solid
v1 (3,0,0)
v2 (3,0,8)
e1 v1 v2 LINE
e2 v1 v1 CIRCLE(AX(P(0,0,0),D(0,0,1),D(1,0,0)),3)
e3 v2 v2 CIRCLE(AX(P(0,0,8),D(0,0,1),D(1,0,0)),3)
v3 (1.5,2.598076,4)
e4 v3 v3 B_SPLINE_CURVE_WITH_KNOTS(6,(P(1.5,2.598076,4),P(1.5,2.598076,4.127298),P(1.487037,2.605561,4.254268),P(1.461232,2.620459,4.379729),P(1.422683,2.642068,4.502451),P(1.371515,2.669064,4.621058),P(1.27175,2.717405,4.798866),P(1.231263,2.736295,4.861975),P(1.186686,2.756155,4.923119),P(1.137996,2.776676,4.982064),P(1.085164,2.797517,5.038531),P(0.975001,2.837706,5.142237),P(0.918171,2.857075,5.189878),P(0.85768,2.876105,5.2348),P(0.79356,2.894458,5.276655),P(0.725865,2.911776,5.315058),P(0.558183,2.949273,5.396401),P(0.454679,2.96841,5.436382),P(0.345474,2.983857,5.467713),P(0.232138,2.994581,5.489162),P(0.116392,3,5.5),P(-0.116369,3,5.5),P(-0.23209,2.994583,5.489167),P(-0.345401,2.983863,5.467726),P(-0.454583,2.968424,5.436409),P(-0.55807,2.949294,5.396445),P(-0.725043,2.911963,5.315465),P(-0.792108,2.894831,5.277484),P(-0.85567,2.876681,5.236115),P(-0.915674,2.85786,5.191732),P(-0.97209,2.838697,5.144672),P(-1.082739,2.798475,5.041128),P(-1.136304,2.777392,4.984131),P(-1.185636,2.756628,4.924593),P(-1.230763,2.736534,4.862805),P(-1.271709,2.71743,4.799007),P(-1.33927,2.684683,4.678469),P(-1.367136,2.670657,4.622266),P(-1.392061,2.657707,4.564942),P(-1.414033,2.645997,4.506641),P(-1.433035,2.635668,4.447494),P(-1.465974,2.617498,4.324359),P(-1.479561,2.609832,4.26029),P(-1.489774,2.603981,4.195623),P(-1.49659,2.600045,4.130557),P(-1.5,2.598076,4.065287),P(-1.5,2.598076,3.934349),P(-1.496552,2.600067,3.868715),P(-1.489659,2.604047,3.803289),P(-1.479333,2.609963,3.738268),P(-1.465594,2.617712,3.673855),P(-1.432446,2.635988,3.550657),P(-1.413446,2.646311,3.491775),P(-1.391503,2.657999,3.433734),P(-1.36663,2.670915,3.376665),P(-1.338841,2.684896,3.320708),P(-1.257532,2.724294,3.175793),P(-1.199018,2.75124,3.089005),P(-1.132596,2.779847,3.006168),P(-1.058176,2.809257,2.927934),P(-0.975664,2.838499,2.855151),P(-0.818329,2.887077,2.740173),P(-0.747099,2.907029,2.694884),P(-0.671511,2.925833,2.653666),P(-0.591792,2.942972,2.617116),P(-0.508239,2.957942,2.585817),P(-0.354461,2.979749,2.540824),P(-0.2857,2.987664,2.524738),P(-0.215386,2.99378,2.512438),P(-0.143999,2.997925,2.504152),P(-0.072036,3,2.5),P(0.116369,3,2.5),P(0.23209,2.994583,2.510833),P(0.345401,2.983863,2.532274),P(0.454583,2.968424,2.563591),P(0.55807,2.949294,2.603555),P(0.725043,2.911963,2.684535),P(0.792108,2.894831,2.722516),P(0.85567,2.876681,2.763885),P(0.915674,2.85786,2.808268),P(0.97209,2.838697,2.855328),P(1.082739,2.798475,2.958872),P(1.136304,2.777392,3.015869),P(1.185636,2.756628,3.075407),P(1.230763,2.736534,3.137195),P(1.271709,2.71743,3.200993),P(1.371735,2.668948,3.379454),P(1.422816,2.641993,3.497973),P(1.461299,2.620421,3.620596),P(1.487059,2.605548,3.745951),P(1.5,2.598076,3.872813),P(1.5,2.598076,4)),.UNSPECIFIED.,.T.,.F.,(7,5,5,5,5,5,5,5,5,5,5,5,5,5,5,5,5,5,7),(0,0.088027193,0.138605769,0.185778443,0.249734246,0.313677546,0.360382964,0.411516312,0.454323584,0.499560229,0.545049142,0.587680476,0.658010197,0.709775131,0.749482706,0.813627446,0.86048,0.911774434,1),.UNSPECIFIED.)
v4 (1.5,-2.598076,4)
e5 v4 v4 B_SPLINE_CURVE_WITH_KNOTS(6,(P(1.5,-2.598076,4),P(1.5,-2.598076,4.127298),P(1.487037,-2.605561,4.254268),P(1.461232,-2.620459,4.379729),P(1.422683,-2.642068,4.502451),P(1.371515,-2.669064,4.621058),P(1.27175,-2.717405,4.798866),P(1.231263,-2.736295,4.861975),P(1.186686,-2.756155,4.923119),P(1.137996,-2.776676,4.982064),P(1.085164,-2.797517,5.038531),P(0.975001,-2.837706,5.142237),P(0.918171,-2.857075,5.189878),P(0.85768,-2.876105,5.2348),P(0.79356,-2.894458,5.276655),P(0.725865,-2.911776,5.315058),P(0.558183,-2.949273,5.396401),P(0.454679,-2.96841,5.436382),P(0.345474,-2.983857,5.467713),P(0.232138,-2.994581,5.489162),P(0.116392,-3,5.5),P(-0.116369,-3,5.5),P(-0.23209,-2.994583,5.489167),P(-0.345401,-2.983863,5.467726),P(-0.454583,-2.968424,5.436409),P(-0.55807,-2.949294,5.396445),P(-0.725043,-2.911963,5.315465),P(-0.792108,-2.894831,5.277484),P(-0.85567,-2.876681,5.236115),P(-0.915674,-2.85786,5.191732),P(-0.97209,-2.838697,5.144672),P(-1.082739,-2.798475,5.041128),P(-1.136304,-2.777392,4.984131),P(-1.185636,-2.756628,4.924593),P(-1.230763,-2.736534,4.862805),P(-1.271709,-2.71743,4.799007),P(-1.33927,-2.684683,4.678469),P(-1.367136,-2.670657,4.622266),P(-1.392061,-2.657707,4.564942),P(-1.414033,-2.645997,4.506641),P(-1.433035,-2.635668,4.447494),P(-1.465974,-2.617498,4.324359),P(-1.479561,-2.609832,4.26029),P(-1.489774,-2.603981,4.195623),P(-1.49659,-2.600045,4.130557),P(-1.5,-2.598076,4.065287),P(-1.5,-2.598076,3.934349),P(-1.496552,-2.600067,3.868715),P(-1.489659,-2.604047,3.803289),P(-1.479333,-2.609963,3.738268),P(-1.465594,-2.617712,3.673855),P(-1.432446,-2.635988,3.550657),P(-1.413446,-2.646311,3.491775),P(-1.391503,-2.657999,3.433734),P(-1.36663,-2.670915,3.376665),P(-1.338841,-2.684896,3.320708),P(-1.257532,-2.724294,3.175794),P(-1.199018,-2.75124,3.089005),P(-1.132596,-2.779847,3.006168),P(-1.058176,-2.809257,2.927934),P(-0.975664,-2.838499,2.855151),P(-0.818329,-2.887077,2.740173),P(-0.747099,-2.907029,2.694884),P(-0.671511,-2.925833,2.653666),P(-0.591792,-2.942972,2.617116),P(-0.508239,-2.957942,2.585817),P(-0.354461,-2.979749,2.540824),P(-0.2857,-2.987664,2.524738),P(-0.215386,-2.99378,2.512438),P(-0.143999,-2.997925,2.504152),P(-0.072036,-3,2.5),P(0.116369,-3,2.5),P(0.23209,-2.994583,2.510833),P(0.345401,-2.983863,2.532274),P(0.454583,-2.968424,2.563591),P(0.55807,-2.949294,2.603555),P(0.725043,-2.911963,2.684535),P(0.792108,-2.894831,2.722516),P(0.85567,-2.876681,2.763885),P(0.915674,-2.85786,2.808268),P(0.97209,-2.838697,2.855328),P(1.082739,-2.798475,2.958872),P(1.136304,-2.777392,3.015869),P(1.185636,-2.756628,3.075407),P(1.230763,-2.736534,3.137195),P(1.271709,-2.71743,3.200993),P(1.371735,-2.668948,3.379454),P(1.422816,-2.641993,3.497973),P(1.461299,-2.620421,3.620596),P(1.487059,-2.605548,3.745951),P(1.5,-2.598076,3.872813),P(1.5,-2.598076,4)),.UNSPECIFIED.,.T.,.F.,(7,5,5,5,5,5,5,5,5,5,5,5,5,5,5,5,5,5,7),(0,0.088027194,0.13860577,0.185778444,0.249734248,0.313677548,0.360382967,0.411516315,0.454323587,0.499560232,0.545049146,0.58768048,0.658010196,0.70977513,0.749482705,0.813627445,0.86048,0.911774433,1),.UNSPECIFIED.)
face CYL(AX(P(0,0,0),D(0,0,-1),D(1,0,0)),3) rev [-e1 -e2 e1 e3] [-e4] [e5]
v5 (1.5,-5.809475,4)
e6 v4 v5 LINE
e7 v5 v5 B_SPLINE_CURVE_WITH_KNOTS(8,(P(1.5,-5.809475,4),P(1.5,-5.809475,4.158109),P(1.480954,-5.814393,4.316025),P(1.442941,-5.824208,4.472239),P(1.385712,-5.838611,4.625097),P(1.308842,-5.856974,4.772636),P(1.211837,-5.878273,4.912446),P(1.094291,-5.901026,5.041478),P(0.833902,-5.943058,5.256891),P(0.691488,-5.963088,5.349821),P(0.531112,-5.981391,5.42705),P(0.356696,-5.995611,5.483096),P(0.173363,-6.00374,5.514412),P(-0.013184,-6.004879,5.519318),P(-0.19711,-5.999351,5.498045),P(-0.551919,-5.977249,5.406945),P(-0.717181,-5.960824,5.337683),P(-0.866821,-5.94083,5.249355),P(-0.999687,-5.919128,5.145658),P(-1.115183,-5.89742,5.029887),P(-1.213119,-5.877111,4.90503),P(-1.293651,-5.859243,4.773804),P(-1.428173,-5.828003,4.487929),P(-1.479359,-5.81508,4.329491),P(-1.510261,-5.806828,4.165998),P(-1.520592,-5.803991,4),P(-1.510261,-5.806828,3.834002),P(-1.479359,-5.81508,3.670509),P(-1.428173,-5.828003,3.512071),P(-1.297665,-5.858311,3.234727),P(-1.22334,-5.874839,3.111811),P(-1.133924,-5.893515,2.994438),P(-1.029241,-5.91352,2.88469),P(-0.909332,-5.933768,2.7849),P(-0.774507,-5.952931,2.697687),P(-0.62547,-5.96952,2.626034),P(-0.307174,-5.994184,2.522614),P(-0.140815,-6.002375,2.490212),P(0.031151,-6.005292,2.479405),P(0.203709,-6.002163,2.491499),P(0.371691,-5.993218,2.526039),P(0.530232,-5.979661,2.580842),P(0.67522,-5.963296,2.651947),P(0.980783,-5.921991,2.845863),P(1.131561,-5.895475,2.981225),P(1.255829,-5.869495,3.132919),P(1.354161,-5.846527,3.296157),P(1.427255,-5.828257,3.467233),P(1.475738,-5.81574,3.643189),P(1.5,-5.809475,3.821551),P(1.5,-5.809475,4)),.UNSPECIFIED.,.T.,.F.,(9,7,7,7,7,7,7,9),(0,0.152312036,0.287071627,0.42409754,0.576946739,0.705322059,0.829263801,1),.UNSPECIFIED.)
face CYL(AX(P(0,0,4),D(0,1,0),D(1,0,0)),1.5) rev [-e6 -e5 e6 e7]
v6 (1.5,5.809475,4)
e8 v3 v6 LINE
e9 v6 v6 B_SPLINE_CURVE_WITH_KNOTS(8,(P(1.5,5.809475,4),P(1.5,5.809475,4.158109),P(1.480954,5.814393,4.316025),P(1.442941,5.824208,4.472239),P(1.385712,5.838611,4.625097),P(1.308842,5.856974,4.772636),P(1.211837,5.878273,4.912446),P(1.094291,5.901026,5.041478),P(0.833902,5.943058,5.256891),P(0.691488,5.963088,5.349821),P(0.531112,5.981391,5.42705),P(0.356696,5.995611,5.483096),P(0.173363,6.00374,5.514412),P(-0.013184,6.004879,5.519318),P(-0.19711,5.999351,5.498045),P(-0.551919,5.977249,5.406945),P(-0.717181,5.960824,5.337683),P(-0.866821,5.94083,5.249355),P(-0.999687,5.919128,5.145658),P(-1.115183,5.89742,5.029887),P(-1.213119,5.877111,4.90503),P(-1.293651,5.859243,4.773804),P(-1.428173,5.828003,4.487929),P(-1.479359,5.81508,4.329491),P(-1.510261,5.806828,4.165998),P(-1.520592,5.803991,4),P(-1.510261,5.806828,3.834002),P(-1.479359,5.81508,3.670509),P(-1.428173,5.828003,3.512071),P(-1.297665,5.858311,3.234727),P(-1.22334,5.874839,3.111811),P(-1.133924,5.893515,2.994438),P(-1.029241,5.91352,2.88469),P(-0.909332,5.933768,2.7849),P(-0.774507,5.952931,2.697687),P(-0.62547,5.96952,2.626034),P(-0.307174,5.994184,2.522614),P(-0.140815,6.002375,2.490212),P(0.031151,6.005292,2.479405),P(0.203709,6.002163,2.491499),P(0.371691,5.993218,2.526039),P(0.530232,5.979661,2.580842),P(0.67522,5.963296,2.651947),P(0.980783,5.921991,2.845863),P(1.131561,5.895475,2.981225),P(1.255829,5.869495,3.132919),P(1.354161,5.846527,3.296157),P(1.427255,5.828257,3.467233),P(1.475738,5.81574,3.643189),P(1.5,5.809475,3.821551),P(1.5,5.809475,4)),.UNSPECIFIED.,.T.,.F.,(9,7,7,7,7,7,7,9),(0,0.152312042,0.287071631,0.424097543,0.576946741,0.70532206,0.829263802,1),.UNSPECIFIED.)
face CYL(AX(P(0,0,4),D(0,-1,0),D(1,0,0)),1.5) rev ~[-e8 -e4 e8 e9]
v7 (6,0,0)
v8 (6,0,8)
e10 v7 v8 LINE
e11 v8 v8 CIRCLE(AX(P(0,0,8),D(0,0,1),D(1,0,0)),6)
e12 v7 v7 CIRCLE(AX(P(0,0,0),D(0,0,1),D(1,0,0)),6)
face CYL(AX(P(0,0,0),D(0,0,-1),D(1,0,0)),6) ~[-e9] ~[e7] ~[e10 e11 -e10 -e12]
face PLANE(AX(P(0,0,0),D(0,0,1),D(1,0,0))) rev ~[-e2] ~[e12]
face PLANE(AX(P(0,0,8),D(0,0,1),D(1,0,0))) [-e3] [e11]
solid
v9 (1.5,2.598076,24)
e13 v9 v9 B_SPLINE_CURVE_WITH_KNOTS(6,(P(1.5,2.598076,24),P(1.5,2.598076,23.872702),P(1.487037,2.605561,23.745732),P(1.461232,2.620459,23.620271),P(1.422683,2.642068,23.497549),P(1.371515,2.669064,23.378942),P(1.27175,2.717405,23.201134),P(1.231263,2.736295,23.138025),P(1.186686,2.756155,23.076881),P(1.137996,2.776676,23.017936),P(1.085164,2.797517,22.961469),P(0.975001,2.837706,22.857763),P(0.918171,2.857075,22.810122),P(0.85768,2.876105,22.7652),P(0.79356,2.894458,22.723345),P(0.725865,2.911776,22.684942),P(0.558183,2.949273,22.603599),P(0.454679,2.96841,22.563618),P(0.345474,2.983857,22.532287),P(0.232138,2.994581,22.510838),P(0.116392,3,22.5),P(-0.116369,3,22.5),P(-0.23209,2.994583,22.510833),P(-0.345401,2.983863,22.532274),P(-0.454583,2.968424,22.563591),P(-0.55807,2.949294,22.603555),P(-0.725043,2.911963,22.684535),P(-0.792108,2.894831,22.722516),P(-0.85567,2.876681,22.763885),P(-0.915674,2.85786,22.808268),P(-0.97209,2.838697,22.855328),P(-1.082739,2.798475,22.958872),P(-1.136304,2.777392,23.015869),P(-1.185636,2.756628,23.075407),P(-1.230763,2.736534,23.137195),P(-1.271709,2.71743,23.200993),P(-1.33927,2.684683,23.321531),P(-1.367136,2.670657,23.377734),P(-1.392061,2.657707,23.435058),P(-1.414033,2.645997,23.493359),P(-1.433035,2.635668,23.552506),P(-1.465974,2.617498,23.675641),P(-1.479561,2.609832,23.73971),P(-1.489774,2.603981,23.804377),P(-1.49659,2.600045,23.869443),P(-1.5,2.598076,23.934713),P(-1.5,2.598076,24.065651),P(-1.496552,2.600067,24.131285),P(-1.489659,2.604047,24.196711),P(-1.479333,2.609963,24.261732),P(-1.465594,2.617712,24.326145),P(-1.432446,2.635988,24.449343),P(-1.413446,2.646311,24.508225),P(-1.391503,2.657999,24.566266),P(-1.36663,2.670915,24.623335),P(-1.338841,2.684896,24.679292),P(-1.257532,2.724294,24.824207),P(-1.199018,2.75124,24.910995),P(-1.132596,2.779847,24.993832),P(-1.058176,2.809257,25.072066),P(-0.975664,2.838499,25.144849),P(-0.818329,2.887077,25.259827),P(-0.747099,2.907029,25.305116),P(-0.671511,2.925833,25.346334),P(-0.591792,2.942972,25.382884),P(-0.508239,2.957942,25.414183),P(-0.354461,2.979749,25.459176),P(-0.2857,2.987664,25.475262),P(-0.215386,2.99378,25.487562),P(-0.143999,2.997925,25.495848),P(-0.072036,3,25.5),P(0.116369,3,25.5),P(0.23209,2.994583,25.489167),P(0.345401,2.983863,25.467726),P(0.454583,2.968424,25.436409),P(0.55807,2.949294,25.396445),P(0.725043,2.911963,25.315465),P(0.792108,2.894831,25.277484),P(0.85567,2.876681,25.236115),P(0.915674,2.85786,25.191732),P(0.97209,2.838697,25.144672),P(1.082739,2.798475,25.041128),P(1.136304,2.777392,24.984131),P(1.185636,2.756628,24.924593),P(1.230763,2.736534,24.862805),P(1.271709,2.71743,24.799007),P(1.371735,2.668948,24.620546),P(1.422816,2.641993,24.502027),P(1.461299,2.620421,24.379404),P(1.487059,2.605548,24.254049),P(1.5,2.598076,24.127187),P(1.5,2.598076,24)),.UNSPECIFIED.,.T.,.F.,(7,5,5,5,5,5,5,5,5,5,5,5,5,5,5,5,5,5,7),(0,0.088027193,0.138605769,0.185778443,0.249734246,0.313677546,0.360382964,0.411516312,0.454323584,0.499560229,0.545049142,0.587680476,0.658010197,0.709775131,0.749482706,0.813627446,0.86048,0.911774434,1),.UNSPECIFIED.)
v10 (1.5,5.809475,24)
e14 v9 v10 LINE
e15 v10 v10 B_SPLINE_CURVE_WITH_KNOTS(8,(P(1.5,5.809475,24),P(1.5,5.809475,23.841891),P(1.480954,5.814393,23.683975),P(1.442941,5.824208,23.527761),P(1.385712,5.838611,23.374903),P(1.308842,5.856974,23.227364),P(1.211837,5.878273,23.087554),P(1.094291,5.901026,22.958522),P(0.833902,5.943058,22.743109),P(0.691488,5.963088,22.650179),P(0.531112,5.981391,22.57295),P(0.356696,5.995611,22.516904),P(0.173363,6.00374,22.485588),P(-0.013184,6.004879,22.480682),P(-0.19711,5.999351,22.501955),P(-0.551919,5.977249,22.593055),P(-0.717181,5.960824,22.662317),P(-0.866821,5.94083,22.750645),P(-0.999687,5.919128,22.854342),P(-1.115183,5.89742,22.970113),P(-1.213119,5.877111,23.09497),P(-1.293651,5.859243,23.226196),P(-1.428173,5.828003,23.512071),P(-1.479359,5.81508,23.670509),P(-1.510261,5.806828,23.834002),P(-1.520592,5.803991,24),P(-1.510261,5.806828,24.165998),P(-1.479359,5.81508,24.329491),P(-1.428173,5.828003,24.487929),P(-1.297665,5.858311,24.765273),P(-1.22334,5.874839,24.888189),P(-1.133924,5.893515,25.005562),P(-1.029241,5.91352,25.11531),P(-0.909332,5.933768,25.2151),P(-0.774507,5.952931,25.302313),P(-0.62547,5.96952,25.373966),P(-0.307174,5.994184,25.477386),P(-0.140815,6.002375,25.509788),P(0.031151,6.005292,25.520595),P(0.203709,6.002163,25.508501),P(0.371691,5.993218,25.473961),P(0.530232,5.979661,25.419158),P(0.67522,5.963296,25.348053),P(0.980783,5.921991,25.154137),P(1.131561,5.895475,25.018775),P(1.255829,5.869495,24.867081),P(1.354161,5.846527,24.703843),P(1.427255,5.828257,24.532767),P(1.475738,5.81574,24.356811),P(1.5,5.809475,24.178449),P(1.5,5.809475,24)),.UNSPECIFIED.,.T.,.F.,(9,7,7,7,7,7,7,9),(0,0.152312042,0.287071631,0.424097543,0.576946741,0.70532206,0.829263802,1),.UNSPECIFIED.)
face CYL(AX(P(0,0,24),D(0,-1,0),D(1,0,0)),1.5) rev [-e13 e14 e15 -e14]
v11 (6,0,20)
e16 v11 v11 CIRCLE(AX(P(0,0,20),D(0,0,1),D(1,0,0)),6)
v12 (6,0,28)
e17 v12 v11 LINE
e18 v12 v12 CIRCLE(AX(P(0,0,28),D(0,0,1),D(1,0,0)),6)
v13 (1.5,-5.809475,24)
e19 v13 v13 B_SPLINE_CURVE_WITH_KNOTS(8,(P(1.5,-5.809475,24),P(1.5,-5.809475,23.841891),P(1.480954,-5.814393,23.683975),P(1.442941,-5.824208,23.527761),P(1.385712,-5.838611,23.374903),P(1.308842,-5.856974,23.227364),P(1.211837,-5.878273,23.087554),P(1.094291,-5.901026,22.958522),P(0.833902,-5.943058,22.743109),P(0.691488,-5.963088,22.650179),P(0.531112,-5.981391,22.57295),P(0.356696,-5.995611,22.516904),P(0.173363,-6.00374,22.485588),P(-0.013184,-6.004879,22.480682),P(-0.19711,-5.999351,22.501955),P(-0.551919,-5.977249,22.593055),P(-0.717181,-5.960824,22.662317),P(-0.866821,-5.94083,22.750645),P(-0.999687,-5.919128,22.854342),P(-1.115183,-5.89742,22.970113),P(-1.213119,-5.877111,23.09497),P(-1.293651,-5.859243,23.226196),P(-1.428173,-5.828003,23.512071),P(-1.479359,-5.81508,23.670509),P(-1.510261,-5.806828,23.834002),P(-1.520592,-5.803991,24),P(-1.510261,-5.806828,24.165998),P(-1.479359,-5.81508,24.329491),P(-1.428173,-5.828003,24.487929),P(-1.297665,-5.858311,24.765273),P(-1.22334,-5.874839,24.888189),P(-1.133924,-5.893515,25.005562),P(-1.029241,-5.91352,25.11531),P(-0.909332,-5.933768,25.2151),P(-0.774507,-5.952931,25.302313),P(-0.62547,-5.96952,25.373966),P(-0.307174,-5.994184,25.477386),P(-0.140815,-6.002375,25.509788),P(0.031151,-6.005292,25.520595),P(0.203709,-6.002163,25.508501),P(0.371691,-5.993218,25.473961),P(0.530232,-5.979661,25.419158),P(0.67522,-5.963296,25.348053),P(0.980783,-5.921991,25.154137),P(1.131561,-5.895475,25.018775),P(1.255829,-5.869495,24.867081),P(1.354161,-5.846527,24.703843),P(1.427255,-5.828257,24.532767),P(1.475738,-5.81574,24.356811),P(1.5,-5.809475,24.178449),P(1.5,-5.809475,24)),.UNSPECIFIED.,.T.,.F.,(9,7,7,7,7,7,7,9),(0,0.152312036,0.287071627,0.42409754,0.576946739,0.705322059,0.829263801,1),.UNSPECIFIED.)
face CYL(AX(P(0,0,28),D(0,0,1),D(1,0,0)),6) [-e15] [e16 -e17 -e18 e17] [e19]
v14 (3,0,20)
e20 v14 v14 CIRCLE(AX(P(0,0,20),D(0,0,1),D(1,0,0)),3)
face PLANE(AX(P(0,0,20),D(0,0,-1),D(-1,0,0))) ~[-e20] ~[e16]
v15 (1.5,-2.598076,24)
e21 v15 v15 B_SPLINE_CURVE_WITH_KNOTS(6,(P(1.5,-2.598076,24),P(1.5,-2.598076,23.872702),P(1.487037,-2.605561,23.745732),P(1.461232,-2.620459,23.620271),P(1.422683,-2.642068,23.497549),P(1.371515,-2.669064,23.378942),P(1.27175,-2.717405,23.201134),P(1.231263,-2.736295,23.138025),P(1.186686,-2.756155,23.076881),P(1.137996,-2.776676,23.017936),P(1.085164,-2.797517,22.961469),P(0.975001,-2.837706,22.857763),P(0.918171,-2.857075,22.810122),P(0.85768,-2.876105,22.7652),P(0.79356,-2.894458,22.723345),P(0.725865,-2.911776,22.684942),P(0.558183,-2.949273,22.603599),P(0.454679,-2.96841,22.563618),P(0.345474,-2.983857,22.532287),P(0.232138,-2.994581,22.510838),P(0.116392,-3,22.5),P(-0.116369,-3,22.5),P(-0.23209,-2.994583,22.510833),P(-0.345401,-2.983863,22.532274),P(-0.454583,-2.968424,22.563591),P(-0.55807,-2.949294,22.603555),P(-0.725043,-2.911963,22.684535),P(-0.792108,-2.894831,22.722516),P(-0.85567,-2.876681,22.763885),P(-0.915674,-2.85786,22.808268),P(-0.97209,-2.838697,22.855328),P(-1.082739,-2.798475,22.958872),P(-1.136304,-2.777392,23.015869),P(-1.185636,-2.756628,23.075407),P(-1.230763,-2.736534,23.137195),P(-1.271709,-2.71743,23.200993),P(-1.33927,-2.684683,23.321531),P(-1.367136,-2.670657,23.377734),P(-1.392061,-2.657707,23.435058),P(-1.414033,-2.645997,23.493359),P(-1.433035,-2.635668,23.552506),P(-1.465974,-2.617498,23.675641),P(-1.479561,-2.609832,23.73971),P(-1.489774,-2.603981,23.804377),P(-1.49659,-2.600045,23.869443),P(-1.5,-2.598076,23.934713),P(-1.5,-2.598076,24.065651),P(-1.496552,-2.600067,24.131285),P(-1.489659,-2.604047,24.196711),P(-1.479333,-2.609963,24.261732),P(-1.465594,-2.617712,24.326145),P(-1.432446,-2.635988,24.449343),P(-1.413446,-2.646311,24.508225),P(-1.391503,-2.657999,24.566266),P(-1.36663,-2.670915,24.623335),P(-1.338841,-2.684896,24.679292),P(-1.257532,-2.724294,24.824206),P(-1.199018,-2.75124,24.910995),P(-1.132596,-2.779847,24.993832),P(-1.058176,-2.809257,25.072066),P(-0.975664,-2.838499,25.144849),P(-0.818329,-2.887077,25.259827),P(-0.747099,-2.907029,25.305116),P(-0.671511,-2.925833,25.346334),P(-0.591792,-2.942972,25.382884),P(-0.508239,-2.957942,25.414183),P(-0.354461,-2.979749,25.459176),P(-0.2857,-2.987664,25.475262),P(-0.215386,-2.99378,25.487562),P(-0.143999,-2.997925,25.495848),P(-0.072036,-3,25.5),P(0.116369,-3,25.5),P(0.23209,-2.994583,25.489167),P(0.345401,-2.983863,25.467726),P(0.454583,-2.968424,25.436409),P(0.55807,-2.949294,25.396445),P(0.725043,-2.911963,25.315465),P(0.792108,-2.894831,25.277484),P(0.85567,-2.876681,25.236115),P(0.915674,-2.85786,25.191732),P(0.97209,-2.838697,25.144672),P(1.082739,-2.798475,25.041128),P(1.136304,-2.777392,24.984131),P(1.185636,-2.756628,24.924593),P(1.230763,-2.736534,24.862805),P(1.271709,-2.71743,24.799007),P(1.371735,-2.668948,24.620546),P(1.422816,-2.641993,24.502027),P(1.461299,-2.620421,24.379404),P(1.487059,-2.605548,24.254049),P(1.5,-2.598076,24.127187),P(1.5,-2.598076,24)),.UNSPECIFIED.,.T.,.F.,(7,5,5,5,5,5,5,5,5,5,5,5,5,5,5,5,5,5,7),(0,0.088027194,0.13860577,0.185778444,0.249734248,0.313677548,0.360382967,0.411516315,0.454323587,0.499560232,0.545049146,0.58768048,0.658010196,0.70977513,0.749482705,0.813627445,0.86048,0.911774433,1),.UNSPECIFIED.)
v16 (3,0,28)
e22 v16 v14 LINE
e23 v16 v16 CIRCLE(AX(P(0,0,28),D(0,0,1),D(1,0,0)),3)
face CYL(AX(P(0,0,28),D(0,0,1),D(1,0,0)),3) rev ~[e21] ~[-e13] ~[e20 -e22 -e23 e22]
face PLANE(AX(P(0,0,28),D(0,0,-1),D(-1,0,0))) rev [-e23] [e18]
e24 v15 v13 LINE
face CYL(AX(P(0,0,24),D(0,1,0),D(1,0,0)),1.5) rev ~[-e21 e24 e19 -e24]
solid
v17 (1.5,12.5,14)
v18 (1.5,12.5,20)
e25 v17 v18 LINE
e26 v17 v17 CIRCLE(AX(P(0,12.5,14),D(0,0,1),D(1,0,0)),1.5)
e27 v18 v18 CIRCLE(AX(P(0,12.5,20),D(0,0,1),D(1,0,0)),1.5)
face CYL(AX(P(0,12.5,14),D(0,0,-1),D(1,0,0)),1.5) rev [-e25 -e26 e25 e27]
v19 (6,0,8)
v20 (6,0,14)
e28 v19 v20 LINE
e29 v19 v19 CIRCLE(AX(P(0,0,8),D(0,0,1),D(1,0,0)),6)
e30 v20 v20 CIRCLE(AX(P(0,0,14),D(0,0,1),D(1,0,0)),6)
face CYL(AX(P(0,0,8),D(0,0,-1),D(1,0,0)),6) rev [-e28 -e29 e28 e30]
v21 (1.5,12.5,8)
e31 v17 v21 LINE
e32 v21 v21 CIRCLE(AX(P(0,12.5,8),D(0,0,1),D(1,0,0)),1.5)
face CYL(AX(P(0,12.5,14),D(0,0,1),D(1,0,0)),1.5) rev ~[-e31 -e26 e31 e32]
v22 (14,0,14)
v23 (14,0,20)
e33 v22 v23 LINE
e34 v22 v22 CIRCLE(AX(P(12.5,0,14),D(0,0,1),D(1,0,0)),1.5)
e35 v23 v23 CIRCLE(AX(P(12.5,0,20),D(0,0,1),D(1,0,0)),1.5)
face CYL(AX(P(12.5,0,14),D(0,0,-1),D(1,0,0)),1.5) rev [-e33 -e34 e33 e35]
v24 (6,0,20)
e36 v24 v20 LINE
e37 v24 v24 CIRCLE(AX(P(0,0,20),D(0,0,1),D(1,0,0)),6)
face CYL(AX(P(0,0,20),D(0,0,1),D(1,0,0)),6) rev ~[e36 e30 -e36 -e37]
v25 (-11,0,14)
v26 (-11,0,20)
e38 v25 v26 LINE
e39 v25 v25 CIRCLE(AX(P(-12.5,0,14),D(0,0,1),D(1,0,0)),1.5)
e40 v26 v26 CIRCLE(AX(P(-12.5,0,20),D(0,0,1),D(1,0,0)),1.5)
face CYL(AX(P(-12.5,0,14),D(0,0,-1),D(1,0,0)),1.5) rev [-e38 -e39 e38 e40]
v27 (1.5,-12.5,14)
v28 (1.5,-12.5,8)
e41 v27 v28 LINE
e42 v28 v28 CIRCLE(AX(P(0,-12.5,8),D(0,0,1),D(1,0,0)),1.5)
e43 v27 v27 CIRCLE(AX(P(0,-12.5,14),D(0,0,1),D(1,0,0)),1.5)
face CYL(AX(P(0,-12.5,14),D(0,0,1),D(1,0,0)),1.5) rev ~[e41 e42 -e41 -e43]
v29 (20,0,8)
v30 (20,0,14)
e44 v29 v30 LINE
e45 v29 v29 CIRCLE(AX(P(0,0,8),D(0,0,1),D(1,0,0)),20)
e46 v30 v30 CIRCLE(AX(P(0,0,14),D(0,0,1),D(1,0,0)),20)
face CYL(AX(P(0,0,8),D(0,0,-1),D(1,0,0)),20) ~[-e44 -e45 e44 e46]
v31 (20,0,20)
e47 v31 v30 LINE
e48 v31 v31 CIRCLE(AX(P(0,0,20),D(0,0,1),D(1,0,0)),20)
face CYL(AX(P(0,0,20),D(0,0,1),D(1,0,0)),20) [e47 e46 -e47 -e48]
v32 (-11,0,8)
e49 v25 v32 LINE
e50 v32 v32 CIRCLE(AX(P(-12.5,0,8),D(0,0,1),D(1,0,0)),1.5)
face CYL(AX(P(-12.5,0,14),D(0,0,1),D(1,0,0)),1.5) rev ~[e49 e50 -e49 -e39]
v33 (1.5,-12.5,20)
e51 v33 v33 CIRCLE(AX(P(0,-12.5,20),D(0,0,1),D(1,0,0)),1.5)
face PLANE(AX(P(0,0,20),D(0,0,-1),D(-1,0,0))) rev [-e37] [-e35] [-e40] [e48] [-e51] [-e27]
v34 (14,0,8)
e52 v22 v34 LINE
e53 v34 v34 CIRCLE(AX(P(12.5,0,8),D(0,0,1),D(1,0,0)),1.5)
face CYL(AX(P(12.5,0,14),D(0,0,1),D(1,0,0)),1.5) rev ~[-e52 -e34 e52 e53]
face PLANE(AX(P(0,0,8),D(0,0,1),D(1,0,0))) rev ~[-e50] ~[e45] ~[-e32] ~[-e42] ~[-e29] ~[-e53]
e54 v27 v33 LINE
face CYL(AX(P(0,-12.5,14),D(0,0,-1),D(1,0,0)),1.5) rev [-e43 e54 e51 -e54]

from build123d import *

# Parameters (mm, degrees)
F0_R          = 6
F0_R_2        = 3
F1_DEPTH      = 8
F2_R          = 20
F2_R_2        = 6
F3_DEPTH      = 6
F4_R          = 1.5
F5_DEPTH      = 20.001
F5_DEPTH_BACK = 20.001
F6_R          = 1.5
F7_DEPTH      = 14.0010001


with BuildPart() as f1:
    # F0 (on Top) → F1 (new body)
    with BuildSketch(Plane.XY):
        Circle(F0_R)
        Circle(F0_R_2, mode=Mode.SUBTRACT)
    extrude(amount=F1_DEPTH)

    # F4 (on Front) → F5 (cut, two sides)
    with BuildSketch(Plane.XZ) as f5_sk:
        with Locations((0, 4)):
            Circle(F4_R)
    extrude(amount=-F5_DEPTH, mode=Mode.SUBTRACT)
    extrude(f5_sk.sketch, amount=F5_DEPTH_BACK, mode=Mode.SUBTRACT)


with BuildPart() as f3:
    # F2 (on face) → F3 (new body)
    with BuildSketch(Plane.XY.offset(8)):
        Circle(F2_R)
        Circle(F2_R_2, mode=Mode.SUBTRACT)
    extrude(amount=F3_DEPTH)

    # F6 (on face) → F7 (cut, through all)
    with BuildSketch(Plane.XY.offset(14)):
        with Locations((0, 12.5)):
            Circle(F6_R)
        with Locations((0, -12.5)):
            Circle(F6_R)
        with Locations((-12.5, 0)):
            Circle(F6_R)
        with Locations((12.5, 0)):
            Circle(F6_R)
    extrude(amount=-F7_DEPTH, mode=Mode.SUBTRACT)

    # F8: F3, F1 across face


with BuildPart() as f3_1:
    add(f3.part)
    add(f3.part.mirror(Plane.XY.offset(14)))
    add(f1.part.mirror(Plane.XY.offset(14)))


solid = Compound([f1.part, f3_1.part])
